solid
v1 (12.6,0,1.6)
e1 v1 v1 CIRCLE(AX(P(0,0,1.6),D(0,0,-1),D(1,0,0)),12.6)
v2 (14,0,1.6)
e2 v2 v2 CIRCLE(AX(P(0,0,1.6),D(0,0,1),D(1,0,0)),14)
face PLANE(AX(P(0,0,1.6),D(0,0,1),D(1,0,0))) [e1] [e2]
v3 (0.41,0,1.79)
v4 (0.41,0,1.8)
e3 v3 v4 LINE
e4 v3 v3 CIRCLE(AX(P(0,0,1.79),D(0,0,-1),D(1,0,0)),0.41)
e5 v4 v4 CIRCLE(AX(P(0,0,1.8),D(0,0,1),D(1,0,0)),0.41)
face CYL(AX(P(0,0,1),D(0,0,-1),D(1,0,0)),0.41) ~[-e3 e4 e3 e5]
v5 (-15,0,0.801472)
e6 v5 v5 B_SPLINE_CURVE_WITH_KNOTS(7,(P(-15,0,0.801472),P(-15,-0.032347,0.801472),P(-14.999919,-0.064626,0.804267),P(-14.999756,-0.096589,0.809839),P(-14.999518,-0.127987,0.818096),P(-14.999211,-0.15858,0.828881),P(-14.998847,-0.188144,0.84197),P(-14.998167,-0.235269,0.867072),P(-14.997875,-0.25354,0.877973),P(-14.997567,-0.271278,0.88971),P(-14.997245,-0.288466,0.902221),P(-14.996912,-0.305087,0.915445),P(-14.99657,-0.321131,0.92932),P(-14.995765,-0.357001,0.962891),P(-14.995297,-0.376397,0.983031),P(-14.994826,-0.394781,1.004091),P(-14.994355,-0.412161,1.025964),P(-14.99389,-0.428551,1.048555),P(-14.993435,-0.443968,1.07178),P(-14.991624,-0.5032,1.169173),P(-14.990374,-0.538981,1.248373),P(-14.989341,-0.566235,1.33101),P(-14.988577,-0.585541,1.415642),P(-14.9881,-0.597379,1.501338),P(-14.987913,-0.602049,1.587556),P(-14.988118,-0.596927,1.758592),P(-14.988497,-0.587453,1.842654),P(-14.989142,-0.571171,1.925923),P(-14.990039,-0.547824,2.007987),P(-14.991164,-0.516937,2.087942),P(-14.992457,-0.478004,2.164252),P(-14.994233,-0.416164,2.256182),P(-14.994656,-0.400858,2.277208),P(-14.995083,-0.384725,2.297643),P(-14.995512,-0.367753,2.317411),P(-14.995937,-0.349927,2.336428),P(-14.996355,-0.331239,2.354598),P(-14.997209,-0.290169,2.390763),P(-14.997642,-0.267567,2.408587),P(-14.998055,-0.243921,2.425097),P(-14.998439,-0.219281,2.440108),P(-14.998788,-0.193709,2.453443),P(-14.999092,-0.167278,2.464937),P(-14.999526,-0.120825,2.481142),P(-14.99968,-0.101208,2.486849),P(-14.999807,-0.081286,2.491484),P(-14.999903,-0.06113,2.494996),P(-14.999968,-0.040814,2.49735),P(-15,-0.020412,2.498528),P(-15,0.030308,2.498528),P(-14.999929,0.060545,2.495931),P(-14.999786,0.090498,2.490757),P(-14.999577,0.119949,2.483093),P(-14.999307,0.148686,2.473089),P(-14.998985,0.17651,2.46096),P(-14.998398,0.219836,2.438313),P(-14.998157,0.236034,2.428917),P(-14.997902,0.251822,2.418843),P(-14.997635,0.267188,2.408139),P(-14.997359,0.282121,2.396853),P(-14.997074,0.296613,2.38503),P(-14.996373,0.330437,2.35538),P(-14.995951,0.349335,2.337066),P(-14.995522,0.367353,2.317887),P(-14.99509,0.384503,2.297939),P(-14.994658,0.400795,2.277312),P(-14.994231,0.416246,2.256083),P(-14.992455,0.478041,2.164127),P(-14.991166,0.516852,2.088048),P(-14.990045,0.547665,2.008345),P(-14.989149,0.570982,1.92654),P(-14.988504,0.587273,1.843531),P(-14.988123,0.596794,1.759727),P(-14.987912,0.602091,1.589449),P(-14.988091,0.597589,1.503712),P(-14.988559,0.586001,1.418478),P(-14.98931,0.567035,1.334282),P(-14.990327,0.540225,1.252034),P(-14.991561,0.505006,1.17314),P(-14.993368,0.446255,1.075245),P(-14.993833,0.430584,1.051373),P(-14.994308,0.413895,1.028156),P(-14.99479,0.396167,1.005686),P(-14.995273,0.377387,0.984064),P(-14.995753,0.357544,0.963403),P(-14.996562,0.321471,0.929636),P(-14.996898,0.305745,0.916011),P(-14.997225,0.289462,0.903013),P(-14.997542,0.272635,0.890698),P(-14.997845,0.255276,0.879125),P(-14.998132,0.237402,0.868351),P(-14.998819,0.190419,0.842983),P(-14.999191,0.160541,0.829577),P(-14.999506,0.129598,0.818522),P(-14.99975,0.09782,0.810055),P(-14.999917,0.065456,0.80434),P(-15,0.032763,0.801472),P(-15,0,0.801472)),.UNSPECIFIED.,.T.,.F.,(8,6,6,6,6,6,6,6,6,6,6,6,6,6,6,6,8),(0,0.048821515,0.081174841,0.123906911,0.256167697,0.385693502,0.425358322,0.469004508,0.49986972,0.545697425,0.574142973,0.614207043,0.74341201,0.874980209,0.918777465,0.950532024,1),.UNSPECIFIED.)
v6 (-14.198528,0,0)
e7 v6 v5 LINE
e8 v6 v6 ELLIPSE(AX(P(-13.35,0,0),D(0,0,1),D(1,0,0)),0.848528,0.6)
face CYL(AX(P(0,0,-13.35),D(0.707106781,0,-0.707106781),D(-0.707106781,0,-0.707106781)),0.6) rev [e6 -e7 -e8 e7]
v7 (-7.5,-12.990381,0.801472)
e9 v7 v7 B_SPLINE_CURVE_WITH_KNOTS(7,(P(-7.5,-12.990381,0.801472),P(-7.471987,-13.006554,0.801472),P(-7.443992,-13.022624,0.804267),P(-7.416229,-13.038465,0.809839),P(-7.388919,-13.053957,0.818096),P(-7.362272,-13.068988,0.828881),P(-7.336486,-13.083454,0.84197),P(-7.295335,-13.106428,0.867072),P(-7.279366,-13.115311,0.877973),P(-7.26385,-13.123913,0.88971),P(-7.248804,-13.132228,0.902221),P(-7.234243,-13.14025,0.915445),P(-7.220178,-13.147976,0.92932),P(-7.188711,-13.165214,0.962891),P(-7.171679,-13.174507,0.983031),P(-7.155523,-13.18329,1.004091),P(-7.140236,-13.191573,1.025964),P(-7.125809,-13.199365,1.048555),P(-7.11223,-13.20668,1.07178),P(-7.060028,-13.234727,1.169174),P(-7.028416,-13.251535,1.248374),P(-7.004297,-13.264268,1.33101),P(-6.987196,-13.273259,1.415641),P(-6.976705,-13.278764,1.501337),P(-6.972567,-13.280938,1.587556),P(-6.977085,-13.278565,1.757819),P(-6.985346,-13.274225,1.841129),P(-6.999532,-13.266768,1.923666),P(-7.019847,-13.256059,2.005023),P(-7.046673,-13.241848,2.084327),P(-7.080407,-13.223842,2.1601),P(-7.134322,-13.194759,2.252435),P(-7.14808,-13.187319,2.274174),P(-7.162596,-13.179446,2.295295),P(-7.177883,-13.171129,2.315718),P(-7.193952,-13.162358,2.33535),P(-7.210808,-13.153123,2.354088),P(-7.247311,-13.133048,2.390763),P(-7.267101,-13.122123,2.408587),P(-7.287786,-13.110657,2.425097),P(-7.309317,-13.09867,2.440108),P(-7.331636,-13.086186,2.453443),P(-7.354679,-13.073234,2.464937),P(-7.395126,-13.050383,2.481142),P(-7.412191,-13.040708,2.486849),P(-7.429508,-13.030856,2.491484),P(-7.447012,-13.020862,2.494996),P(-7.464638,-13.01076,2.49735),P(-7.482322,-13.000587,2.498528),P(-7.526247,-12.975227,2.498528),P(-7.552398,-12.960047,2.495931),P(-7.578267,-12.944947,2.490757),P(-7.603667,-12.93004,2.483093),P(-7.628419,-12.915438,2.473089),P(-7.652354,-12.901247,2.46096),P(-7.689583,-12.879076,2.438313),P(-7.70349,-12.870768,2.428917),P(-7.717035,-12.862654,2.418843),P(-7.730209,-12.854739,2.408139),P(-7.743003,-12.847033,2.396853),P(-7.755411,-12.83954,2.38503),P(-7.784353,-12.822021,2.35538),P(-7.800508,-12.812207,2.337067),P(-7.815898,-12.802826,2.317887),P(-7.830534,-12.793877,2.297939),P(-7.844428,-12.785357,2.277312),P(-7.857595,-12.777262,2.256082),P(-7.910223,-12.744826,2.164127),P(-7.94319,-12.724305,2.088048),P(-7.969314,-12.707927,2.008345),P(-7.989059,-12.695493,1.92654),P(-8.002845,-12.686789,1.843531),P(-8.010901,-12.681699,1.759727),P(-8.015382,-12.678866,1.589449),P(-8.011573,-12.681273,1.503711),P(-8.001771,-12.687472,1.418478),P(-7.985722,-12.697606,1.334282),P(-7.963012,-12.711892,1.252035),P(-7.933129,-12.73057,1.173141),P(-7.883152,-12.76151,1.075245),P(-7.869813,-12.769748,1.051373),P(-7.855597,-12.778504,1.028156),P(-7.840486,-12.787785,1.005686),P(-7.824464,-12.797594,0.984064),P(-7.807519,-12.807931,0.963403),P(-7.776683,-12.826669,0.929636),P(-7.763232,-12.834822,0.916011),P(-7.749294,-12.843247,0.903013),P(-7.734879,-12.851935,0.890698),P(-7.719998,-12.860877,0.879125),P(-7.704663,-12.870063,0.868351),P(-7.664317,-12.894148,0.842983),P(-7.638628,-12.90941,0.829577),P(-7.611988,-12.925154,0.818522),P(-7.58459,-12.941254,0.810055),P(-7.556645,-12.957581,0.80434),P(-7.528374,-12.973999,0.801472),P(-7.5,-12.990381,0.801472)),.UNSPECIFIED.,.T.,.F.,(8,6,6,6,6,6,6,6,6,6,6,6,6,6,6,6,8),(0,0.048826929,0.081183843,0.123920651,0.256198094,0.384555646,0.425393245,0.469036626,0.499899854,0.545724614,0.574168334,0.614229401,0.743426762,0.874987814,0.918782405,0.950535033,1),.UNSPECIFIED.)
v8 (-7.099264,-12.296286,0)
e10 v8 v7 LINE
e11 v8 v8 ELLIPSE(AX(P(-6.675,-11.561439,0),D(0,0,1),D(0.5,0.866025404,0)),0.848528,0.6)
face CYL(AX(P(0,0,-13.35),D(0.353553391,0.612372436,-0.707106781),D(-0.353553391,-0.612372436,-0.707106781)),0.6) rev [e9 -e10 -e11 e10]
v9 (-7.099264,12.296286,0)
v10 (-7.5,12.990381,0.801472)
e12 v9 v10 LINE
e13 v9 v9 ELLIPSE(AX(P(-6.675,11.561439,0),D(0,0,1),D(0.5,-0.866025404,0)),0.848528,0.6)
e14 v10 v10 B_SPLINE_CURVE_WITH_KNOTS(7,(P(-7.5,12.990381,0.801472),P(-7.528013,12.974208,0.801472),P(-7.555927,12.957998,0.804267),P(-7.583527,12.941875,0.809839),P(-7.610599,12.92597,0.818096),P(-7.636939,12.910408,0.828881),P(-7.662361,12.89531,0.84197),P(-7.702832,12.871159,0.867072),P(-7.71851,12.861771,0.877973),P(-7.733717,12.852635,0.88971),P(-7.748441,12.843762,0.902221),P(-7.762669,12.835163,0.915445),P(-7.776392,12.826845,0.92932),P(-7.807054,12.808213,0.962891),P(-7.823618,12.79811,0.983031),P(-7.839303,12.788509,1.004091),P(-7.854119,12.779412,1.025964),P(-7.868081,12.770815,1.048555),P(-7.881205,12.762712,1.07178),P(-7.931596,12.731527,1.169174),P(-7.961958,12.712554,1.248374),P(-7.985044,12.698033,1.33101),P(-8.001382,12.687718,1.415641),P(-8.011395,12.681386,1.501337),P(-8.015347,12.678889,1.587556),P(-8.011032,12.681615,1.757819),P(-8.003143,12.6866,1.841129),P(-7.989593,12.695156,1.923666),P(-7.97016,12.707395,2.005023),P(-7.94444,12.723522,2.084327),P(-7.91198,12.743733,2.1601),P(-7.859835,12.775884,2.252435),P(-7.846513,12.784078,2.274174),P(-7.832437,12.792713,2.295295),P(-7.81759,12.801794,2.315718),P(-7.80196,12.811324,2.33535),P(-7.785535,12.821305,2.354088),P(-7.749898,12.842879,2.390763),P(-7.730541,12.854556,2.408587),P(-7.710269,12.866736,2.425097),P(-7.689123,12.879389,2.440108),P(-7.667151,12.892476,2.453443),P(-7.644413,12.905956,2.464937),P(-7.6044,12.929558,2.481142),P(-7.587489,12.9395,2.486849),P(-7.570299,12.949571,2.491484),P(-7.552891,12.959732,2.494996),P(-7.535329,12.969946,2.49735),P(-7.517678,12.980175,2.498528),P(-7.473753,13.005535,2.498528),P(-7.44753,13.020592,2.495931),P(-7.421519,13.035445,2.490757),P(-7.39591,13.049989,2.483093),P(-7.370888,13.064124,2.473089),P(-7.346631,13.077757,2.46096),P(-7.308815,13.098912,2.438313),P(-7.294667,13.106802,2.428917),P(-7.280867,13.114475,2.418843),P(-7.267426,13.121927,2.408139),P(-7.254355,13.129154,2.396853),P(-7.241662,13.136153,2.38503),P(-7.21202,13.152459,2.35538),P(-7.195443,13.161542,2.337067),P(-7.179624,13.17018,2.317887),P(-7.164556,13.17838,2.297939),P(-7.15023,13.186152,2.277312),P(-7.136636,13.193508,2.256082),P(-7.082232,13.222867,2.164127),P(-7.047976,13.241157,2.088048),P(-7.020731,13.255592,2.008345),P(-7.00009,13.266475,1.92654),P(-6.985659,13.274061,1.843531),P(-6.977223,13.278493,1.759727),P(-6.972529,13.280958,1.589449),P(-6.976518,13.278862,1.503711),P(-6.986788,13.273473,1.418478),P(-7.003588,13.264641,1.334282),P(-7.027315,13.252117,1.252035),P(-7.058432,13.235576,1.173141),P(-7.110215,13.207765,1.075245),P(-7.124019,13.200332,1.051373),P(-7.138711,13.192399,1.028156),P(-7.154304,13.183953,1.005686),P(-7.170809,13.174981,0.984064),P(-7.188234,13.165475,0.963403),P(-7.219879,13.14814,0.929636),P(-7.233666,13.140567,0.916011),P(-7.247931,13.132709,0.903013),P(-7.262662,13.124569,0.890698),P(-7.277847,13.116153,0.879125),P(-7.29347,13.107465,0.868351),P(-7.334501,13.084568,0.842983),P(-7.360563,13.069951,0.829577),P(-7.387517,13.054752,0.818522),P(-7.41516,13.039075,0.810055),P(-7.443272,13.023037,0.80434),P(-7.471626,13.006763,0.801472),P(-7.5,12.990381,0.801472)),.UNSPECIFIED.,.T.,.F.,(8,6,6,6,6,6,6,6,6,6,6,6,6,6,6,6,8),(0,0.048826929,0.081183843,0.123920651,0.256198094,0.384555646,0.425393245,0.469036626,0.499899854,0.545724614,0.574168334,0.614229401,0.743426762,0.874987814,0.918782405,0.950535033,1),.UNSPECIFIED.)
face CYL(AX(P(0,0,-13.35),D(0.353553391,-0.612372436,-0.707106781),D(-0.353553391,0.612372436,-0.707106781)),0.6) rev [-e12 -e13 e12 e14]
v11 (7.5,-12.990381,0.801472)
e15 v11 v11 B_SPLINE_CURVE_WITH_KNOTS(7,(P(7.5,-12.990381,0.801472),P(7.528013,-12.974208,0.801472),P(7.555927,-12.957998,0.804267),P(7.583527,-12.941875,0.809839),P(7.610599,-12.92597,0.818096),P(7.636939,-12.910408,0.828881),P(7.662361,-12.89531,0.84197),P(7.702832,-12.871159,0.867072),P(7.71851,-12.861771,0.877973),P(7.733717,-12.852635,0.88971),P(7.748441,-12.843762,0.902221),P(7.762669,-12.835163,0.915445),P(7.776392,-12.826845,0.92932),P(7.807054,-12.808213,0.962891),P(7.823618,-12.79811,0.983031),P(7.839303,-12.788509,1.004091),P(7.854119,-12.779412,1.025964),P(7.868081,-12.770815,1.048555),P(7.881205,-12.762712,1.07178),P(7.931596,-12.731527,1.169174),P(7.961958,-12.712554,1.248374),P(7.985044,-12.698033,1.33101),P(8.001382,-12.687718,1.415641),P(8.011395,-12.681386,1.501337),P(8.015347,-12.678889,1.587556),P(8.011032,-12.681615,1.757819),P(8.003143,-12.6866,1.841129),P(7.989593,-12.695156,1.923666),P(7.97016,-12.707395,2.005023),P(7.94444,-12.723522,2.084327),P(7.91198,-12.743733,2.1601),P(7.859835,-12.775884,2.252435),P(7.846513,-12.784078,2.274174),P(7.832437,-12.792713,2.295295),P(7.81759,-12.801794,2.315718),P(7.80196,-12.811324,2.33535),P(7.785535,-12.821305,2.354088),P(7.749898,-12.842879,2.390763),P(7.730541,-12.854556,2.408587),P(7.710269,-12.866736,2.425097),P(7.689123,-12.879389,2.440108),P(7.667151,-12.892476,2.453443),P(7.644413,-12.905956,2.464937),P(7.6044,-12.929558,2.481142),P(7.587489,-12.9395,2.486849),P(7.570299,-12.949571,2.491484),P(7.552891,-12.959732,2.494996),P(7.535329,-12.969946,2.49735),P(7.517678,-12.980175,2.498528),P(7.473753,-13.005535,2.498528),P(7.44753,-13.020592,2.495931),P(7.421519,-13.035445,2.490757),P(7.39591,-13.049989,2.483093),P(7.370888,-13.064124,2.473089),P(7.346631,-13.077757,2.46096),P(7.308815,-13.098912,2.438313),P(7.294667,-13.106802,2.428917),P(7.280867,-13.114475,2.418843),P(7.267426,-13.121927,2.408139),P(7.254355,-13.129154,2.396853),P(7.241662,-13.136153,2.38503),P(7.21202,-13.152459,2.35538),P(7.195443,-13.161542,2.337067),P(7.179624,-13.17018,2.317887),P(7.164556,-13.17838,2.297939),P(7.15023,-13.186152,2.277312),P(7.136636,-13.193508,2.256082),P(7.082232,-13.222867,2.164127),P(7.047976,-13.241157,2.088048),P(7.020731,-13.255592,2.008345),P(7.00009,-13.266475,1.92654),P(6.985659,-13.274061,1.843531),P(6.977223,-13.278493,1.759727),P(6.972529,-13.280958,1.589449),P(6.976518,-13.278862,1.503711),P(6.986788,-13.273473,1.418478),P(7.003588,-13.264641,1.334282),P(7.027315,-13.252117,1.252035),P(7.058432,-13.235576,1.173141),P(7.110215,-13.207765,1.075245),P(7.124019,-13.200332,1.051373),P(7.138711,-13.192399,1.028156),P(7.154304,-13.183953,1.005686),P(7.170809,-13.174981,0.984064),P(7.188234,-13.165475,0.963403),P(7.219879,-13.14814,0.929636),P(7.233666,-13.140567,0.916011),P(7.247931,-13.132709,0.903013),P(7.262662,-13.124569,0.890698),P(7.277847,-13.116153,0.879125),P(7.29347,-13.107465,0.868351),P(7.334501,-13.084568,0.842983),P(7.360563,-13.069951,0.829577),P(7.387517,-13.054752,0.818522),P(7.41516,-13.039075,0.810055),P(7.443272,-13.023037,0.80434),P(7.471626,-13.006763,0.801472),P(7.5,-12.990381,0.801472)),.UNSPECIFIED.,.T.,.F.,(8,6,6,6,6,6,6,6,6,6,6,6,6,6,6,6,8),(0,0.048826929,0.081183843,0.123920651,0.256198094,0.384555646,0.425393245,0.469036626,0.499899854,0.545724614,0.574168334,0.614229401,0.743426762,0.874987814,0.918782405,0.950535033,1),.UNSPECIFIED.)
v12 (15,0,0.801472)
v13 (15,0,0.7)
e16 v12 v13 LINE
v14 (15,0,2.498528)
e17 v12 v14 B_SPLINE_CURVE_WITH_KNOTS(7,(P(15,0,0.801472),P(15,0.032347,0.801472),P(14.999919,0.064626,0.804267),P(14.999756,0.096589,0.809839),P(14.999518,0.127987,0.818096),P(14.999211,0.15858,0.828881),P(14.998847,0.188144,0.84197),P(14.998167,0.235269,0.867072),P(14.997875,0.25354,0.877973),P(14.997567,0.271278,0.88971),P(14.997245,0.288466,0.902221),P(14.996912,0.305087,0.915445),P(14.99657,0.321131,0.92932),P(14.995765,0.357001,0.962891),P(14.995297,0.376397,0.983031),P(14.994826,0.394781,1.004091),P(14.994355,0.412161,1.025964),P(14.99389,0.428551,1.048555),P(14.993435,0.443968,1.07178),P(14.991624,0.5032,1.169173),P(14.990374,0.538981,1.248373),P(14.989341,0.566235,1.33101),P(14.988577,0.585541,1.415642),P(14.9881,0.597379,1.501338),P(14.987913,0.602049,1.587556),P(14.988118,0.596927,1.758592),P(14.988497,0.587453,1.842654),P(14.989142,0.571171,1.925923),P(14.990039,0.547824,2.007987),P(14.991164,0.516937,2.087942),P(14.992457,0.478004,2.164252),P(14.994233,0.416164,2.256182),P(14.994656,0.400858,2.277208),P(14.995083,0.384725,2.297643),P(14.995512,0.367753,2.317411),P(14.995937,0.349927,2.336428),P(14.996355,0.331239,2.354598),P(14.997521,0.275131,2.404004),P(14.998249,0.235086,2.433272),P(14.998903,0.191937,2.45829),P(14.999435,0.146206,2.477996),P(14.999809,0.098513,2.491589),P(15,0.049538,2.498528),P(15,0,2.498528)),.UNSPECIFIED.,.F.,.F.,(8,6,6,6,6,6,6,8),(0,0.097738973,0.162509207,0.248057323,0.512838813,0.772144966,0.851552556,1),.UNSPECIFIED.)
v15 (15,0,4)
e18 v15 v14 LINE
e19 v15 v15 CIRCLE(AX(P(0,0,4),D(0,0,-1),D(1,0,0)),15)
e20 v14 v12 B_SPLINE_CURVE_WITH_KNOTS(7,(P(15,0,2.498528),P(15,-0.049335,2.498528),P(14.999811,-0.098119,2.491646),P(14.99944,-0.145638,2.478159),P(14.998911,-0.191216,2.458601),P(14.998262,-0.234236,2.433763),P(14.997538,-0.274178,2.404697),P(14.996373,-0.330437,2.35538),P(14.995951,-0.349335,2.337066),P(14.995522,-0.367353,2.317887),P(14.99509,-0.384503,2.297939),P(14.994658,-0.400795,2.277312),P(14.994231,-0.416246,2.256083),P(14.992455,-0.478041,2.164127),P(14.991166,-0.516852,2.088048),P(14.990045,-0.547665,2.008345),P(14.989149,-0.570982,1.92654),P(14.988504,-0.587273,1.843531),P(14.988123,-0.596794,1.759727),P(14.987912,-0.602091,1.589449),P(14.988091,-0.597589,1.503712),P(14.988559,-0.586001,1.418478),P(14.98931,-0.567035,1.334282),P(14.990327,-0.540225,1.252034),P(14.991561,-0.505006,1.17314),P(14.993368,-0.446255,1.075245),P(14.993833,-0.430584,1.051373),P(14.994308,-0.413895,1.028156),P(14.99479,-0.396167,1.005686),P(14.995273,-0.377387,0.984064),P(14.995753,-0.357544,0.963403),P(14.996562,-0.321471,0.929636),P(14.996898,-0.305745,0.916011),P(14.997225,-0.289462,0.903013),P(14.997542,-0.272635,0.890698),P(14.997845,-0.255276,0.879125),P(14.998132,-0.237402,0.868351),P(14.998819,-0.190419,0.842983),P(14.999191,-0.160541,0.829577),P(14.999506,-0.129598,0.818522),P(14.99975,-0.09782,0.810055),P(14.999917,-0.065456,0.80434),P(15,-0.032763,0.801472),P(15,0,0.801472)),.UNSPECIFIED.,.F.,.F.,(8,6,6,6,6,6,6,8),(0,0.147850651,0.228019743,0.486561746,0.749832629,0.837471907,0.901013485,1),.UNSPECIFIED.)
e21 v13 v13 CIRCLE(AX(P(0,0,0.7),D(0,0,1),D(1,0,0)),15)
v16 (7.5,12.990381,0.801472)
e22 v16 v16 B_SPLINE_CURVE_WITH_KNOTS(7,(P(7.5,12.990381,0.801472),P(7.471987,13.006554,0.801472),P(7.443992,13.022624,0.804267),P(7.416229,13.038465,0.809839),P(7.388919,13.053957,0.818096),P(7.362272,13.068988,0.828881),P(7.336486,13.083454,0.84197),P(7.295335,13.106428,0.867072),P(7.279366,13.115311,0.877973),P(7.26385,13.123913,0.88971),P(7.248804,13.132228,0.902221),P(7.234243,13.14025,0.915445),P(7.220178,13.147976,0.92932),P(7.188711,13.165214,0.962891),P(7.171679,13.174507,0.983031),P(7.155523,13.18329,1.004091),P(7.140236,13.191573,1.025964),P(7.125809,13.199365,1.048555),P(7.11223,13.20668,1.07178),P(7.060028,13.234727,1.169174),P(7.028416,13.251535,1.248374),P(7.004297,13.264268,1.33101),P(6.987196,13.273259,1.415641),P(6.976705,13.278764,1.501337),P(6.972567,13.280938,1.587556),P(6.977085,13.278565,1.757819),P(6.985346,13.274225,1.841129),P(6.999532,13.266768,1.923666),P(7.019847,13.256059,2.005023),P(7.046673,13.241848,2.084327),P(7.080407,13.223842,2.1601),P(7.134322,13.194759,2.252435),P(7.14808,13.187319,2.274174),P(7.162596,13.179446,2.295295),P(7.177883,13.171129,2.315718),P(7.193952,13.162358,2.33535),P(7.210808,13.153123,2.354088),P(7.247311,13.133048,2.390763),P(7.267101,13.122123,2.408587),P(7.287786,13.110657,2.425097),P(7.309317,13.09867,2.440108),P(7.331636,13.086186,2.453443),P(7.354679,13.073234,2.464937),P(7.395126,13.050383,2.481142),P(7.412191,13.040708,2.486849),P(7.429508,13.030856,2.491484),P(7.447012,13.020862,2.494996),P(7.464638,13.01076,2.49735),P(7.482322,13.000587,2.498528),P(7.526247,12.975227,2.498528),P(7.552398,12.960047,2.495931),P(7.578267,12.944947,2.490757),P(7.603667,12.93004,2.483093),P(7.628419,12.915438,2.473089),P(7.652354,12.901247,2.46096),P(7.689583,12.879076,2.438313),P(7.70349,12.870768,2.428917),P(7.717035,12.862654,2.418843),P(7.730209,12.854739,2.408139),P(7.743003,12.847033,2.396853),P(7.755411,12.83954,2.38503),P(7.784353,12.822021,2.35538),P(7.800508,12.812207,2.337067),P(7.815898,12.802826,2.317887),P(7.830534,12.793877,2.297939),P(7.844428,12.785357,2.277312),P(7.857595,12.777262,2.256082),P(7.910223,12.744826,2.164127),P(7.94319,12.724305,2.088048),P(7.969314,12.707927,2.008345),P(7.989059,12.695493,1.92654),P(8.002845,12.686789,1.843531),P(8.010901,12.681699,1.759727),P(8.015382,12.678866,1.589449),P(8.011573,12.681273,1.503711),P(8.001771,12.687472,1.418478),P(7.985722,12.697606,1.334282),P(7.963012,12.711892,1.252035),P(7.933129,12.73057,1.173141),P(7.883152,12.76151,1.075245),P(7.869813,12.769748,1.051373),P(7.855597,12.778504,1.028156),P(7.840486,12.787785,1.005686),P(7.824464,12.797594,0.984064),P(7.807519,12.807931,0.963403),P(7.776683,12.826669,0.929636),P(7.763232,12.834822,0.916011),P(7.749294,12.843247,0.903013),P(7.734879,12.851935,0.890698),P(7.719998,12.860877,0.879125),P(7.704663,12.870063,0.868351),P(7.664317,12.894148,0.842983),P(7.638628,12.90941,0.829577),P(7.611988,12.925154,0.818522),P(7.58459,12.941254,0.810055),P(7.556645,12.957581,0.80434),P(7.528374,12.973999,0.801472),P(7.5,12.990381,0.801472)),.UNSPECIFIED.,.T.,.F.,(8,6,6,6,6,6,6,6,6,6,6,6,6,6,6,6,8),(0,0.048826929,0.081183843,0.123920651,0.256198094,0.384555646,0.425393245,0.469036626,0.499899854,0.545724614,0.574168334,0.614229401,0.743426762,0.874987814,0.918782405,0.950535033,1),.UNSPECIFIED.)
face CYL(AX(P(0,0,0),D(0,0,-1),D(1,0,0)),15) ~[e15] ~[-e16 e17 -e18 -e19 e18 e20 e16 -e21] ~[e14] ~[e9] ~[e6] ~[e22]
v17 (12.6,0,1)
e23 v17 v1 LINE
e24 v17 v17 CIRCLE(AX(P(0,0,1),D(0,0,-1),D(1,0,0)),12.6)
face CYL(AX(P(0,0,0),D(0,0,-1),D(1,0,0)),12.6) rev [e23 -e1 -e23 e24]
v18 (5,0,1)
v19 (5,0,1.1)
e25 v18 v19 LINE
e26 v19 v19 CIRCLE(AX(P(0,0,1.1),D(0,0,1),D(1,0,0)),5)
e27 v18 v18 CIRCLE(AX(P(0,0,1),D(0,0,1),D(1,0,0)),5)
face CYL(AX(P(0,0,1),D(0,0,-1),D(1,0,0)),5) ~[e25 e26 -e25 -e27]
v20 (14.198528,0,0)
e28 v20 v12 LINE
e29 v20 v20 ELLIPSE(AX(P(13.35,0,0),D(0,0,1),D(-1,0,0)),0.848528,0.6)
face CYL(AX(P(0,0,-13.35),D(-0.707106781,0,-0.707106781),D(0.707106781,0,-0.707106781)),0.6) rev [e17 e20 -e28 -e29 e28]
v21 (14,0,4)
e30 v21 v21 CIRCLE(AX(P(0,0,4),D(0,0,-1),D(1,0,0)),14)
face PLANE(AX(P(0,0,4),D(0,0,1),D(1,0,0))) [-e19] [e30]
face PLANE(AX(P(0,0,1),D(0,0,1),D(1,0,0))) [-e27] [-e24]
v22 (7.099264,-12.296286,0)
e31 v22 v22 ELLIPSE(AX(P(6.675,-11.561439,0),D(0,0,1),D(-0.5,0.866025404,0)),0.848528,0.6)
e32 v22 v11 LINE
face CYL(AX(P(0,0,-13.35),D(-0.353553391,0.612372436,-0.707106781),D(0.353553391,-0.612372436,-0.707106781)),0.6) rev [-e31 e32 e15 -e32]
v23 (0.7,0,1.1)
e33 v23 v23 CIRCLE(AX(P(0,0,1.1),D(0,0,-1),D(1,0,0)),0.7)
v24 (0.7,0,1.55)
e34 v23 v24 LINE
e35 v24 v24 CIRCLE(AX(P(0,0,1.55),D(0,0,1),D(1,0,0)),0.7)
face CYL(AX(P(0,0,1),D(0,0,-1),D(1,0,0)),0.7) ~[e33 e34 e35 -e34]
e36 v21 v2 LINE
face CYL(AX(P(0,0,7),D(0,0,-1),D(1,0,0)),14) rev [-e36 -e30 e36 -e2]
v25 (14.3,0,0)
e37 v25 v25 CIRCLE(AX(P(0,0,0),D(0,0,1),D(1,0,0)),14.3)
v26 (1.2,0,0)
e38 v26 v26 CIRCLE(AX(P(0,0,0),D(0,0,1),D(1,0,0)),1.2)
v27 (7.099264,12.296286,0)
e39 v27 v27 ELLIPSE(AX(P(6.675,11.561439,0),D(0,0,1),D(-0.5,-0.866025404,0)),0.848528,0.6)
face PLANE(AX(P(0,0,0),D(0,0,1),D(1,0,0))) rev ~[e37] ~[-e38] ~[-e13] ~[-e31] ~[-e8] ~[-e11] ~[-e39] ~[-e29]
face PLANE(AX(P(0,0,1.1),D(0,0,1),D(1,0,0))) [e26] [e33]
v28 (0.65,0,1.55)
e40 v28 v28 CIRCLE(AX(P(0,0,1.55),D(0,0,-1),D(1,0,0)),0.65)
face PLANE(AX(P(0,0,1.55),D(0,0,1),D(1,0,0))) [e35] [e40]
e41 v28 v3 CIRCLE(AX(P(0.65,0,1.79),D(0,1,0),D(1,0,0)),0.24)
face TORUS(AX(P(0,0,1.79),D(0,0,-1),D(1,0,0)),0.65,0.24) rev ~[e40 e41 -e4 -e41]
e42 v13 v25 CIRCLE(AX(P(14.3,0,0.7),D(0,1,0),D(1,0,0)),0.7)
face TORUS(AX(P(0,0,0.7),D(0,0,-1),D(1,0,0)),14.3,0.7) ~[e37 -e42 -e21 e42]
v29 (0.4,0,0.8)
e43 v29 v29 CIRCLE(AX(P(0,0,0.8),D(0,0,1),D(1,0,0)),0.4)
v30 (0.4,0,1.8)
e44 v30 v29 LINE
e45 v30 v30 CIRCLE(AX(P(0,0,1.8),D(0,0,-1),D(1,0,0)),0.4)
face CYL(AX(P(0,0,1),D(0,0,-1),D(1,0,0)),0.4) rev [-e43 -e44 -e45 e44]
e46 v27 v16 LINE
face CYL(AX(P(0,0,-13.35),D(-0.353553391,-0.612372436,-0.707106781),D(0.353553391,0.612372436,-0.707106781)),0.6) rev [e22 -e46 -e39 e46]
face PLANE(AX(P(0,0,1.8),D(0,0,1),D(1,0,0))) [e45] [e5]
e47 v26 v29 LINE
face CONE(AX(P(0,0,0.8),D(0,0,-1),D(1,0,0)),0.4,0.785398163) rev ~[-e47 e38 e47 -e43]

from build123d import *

# Parameters (mm, degrees)
CYLINDER018_R               = 0.6
CYLINDER018_DEPTH           = 30
CYLINDER018_PLACEMENT_ANGLE = 45
ARRAY_COUNT                 = 6
CYLINDER014_R               = 0.4
CYLINDER014_DEPTH           = 2
CYLINDER012_R               = 0.41
CYLINDER012_DEPTH           = 0.8
CYLINDER013_R               = 0.7
CYLINDER013_DEPTH           = 0.55
FILLET003_R                 = 0.24
CYLINDER015_R               = 5
CYLINDER015_DEPTH           = 0.1
CYLINDER008_R               = 16
CYLINDER008_DEPTH           = 10
CYLINDER007_R               = 14
CYLINDER007_DEPTH           = 6.4
CYLINDER006_R               = 14
CYLINDER006_DEPTH           = 1
CYLINDER005_R               = 0.4
CYLINDER005_DEPTH           = 1
CYLINDER001_R               = 12.6
CYLINDER001_DEPTH           = 8
CYLINDER_R                  = 15
CYLINDER_DEPTH              = 8
CYLINDER002_R               = 15
CYLINDER002_DEPTH           = 1
FILLET_R                    = 0.7
FILLET001_R                 = 0.7
CHAMFER_SIZE                = 0.8


with BuildPart() as array:
    # Cylinder018 → Cylinder018 (new body)
    with BuildSketch(Plane.XY):
        Circle(CYLINDER018_R)
    extrude(amount=CYLINDER018_DEPTH)


with BuildPart() as array_1:
    # Cylinder018 placement: moved
    add(array.part.moved(Location((0, 0, -4.5))).rotate(Axis((0, 0, -4.5), (0, 1, 0)), CYLINDER018_PLACEMENT_ANGLE))

    # Array: Array ×6 about axis
    array_axis = Axis((0, 0, 0), (0, 0, 1))


with BuildPart() as array_2:
    add(array_1.part)
    for i in range(1, ARRAY_COUNT):
        add(array_1.part.rotate(array_axis, i * 360 / ARRAY_COUNT))


with BuildPart() as array_3:
    # Array placement: moved
    add(array_2.part.moved(Location((0, 0, -8.85))))


with BuildPart() as cylinder014:
    # Cylinder014 → Cylinder014 (new body)
    with BuildSketch(Plane.XY.offset(1)):
        Circle(CYLINDER014_R)
    extrude(amount=CYLINDER014_DEPTH)


with BuildPart() as cylinder012:
    # Cylinder012 → Cylinder012 (new body)
    with BuildSketch(Plane.XY.offset(1)):
        Circle(CYLINDER012_R)
    extrude(amount=CYLINDER012_DEPTH)


with BuildPart() as fillet003:
    # Cylinder013 → Cylinder013 (new body)
    with BuildSketch(Plane.XY.offset(1)):
        Circle(CYLINDER013_R)
    extrude(amount=CYLINDER013_DEPTH)

    # Fusion001: union Cylinder012
    add(cylinder012.part)

    # Fillet003
    fillet003_edges = [fillet003.edges().sort_by_distance(p)[0] for p in [
        (-0.41, 0, 1.55),
    ]]
    fillet(fillet003_edges, radius=FILLET003_R)


with BuildPart() as cut006:
    # Cylinder015 → Cylinder015 (new body)
    with BuildSketch(Plane.XY.offset(1)):
        Circle(CYLINDER015_R)
    extrude(amount=CYLINDER015_DEPTH)

    # Fusion002: union Fillet003
    add(fillet003.part)

    # Cut006: cut Cylinder014
    add(cylinder014.part, mode=Mode.SUBTRACT)


with BuildPart() as cylinder008:
    # Cylinder008 → Cylinder008 (new body)
    with BuildSketch(Plane.XY.offset(4)):
        Circle(CYLINDER008_R)
    extrude(amount=CYLINDER008_DEPTH)


with BuildPart() as cylinder007:
    # Cylinder007 → Cylinder007 (new body)
    with BuildSketch(Plane.XY.offset(1.6)):
        Circle(CYLINDER007_R)
    extrude(amount=CYLINDER007_DEPTH)


with BuildPart() as cylinder006:
    # Cylinder006 → Cylinder006 (new body)
    with BuildSketch(Plane.XY.offset(7)):
        Circle(CYLINDER006_R)
    extrude(amount=CYLINDER006_DEPTH)


with BuildPart() as cylinder005:
    # Cylinder005 → Cylinder005 (new body)
    with BuildSketch(Plane.XY):
        Circle(CYLINDER005_R)
    extrude(amount=CYLINDER005_DEPTH)


with BuildPart() as cylinder001:
    # Cylinder001 → Cylinder001 (new body)
    with BuildSketch(Plane.XY):
        Circle(CYLINDER001_R)
    extrude(amount=CYLINDER001_DEPTH)


with BuildPart() as cut:
    # Cylinder → Cylinder (new body)
    with BuildSketch(Plane.XY):
        Circle(CYLINDER_R)
    extrude(amount=CYLINDER_DEPTH)

    # Cut: cut Cylinder001
    add(cylinder001.part, mode=Mode.SUBTRACT)


with BuildPart() as cut009:
    # Cylinder002 → Cylinder002 (new body)
    with BuildSketch(Plane.XY):
        Circle(CYLINDER002_R)
    extrude(amount=CYLINDER002_DEPTH)

    # Fusion: union Cut
    add(cut.part)

    # Cut001: cut Cylinder005
    add(cylinder005.part, mode=Mode.SUBTRACT)

    # Cut003: cut Cylinder006
    add(cylinder006.part, mode=Mode.SUBTRACT)

    # Fillet
    fillet_edges = [cut009.edges().sort_by_distance(p)[0] for p in [
        (-15, 0, 8),
    ]]
    fillet(fillet_edges, radius=FILLET_R)

    # Fillet001
    fillet001_edges = [cut009.edges().sort_by_distance(p)[0] for p in [
        (-15, 0, 0),
    ]]
    fillet(fillet001_edges, radius=FILLET001_R)

    # Chamfer
    chamfer_edges = [cut009.edges().sort_by_distance(p)[0] for p in [
        (-0.4, 0, 0),
    ]]
    chamfer(chamfer_edges, length=CHAMFER_SIZE)

    # Cut007: cut Cylinder007
    add(cylinder007.part, mode=Mode.SUBTRACT)

    # Cut008: cut Cylinder008
    add(cylinder008.part, mode=Mode.SUBTRACT)

    # Fusion003: union Cut006
    add(cut006.part)

    # Cut009: cut Array
    add(array_3.part, mode=Mode.SUBTRACT)


solid = cut009.part
